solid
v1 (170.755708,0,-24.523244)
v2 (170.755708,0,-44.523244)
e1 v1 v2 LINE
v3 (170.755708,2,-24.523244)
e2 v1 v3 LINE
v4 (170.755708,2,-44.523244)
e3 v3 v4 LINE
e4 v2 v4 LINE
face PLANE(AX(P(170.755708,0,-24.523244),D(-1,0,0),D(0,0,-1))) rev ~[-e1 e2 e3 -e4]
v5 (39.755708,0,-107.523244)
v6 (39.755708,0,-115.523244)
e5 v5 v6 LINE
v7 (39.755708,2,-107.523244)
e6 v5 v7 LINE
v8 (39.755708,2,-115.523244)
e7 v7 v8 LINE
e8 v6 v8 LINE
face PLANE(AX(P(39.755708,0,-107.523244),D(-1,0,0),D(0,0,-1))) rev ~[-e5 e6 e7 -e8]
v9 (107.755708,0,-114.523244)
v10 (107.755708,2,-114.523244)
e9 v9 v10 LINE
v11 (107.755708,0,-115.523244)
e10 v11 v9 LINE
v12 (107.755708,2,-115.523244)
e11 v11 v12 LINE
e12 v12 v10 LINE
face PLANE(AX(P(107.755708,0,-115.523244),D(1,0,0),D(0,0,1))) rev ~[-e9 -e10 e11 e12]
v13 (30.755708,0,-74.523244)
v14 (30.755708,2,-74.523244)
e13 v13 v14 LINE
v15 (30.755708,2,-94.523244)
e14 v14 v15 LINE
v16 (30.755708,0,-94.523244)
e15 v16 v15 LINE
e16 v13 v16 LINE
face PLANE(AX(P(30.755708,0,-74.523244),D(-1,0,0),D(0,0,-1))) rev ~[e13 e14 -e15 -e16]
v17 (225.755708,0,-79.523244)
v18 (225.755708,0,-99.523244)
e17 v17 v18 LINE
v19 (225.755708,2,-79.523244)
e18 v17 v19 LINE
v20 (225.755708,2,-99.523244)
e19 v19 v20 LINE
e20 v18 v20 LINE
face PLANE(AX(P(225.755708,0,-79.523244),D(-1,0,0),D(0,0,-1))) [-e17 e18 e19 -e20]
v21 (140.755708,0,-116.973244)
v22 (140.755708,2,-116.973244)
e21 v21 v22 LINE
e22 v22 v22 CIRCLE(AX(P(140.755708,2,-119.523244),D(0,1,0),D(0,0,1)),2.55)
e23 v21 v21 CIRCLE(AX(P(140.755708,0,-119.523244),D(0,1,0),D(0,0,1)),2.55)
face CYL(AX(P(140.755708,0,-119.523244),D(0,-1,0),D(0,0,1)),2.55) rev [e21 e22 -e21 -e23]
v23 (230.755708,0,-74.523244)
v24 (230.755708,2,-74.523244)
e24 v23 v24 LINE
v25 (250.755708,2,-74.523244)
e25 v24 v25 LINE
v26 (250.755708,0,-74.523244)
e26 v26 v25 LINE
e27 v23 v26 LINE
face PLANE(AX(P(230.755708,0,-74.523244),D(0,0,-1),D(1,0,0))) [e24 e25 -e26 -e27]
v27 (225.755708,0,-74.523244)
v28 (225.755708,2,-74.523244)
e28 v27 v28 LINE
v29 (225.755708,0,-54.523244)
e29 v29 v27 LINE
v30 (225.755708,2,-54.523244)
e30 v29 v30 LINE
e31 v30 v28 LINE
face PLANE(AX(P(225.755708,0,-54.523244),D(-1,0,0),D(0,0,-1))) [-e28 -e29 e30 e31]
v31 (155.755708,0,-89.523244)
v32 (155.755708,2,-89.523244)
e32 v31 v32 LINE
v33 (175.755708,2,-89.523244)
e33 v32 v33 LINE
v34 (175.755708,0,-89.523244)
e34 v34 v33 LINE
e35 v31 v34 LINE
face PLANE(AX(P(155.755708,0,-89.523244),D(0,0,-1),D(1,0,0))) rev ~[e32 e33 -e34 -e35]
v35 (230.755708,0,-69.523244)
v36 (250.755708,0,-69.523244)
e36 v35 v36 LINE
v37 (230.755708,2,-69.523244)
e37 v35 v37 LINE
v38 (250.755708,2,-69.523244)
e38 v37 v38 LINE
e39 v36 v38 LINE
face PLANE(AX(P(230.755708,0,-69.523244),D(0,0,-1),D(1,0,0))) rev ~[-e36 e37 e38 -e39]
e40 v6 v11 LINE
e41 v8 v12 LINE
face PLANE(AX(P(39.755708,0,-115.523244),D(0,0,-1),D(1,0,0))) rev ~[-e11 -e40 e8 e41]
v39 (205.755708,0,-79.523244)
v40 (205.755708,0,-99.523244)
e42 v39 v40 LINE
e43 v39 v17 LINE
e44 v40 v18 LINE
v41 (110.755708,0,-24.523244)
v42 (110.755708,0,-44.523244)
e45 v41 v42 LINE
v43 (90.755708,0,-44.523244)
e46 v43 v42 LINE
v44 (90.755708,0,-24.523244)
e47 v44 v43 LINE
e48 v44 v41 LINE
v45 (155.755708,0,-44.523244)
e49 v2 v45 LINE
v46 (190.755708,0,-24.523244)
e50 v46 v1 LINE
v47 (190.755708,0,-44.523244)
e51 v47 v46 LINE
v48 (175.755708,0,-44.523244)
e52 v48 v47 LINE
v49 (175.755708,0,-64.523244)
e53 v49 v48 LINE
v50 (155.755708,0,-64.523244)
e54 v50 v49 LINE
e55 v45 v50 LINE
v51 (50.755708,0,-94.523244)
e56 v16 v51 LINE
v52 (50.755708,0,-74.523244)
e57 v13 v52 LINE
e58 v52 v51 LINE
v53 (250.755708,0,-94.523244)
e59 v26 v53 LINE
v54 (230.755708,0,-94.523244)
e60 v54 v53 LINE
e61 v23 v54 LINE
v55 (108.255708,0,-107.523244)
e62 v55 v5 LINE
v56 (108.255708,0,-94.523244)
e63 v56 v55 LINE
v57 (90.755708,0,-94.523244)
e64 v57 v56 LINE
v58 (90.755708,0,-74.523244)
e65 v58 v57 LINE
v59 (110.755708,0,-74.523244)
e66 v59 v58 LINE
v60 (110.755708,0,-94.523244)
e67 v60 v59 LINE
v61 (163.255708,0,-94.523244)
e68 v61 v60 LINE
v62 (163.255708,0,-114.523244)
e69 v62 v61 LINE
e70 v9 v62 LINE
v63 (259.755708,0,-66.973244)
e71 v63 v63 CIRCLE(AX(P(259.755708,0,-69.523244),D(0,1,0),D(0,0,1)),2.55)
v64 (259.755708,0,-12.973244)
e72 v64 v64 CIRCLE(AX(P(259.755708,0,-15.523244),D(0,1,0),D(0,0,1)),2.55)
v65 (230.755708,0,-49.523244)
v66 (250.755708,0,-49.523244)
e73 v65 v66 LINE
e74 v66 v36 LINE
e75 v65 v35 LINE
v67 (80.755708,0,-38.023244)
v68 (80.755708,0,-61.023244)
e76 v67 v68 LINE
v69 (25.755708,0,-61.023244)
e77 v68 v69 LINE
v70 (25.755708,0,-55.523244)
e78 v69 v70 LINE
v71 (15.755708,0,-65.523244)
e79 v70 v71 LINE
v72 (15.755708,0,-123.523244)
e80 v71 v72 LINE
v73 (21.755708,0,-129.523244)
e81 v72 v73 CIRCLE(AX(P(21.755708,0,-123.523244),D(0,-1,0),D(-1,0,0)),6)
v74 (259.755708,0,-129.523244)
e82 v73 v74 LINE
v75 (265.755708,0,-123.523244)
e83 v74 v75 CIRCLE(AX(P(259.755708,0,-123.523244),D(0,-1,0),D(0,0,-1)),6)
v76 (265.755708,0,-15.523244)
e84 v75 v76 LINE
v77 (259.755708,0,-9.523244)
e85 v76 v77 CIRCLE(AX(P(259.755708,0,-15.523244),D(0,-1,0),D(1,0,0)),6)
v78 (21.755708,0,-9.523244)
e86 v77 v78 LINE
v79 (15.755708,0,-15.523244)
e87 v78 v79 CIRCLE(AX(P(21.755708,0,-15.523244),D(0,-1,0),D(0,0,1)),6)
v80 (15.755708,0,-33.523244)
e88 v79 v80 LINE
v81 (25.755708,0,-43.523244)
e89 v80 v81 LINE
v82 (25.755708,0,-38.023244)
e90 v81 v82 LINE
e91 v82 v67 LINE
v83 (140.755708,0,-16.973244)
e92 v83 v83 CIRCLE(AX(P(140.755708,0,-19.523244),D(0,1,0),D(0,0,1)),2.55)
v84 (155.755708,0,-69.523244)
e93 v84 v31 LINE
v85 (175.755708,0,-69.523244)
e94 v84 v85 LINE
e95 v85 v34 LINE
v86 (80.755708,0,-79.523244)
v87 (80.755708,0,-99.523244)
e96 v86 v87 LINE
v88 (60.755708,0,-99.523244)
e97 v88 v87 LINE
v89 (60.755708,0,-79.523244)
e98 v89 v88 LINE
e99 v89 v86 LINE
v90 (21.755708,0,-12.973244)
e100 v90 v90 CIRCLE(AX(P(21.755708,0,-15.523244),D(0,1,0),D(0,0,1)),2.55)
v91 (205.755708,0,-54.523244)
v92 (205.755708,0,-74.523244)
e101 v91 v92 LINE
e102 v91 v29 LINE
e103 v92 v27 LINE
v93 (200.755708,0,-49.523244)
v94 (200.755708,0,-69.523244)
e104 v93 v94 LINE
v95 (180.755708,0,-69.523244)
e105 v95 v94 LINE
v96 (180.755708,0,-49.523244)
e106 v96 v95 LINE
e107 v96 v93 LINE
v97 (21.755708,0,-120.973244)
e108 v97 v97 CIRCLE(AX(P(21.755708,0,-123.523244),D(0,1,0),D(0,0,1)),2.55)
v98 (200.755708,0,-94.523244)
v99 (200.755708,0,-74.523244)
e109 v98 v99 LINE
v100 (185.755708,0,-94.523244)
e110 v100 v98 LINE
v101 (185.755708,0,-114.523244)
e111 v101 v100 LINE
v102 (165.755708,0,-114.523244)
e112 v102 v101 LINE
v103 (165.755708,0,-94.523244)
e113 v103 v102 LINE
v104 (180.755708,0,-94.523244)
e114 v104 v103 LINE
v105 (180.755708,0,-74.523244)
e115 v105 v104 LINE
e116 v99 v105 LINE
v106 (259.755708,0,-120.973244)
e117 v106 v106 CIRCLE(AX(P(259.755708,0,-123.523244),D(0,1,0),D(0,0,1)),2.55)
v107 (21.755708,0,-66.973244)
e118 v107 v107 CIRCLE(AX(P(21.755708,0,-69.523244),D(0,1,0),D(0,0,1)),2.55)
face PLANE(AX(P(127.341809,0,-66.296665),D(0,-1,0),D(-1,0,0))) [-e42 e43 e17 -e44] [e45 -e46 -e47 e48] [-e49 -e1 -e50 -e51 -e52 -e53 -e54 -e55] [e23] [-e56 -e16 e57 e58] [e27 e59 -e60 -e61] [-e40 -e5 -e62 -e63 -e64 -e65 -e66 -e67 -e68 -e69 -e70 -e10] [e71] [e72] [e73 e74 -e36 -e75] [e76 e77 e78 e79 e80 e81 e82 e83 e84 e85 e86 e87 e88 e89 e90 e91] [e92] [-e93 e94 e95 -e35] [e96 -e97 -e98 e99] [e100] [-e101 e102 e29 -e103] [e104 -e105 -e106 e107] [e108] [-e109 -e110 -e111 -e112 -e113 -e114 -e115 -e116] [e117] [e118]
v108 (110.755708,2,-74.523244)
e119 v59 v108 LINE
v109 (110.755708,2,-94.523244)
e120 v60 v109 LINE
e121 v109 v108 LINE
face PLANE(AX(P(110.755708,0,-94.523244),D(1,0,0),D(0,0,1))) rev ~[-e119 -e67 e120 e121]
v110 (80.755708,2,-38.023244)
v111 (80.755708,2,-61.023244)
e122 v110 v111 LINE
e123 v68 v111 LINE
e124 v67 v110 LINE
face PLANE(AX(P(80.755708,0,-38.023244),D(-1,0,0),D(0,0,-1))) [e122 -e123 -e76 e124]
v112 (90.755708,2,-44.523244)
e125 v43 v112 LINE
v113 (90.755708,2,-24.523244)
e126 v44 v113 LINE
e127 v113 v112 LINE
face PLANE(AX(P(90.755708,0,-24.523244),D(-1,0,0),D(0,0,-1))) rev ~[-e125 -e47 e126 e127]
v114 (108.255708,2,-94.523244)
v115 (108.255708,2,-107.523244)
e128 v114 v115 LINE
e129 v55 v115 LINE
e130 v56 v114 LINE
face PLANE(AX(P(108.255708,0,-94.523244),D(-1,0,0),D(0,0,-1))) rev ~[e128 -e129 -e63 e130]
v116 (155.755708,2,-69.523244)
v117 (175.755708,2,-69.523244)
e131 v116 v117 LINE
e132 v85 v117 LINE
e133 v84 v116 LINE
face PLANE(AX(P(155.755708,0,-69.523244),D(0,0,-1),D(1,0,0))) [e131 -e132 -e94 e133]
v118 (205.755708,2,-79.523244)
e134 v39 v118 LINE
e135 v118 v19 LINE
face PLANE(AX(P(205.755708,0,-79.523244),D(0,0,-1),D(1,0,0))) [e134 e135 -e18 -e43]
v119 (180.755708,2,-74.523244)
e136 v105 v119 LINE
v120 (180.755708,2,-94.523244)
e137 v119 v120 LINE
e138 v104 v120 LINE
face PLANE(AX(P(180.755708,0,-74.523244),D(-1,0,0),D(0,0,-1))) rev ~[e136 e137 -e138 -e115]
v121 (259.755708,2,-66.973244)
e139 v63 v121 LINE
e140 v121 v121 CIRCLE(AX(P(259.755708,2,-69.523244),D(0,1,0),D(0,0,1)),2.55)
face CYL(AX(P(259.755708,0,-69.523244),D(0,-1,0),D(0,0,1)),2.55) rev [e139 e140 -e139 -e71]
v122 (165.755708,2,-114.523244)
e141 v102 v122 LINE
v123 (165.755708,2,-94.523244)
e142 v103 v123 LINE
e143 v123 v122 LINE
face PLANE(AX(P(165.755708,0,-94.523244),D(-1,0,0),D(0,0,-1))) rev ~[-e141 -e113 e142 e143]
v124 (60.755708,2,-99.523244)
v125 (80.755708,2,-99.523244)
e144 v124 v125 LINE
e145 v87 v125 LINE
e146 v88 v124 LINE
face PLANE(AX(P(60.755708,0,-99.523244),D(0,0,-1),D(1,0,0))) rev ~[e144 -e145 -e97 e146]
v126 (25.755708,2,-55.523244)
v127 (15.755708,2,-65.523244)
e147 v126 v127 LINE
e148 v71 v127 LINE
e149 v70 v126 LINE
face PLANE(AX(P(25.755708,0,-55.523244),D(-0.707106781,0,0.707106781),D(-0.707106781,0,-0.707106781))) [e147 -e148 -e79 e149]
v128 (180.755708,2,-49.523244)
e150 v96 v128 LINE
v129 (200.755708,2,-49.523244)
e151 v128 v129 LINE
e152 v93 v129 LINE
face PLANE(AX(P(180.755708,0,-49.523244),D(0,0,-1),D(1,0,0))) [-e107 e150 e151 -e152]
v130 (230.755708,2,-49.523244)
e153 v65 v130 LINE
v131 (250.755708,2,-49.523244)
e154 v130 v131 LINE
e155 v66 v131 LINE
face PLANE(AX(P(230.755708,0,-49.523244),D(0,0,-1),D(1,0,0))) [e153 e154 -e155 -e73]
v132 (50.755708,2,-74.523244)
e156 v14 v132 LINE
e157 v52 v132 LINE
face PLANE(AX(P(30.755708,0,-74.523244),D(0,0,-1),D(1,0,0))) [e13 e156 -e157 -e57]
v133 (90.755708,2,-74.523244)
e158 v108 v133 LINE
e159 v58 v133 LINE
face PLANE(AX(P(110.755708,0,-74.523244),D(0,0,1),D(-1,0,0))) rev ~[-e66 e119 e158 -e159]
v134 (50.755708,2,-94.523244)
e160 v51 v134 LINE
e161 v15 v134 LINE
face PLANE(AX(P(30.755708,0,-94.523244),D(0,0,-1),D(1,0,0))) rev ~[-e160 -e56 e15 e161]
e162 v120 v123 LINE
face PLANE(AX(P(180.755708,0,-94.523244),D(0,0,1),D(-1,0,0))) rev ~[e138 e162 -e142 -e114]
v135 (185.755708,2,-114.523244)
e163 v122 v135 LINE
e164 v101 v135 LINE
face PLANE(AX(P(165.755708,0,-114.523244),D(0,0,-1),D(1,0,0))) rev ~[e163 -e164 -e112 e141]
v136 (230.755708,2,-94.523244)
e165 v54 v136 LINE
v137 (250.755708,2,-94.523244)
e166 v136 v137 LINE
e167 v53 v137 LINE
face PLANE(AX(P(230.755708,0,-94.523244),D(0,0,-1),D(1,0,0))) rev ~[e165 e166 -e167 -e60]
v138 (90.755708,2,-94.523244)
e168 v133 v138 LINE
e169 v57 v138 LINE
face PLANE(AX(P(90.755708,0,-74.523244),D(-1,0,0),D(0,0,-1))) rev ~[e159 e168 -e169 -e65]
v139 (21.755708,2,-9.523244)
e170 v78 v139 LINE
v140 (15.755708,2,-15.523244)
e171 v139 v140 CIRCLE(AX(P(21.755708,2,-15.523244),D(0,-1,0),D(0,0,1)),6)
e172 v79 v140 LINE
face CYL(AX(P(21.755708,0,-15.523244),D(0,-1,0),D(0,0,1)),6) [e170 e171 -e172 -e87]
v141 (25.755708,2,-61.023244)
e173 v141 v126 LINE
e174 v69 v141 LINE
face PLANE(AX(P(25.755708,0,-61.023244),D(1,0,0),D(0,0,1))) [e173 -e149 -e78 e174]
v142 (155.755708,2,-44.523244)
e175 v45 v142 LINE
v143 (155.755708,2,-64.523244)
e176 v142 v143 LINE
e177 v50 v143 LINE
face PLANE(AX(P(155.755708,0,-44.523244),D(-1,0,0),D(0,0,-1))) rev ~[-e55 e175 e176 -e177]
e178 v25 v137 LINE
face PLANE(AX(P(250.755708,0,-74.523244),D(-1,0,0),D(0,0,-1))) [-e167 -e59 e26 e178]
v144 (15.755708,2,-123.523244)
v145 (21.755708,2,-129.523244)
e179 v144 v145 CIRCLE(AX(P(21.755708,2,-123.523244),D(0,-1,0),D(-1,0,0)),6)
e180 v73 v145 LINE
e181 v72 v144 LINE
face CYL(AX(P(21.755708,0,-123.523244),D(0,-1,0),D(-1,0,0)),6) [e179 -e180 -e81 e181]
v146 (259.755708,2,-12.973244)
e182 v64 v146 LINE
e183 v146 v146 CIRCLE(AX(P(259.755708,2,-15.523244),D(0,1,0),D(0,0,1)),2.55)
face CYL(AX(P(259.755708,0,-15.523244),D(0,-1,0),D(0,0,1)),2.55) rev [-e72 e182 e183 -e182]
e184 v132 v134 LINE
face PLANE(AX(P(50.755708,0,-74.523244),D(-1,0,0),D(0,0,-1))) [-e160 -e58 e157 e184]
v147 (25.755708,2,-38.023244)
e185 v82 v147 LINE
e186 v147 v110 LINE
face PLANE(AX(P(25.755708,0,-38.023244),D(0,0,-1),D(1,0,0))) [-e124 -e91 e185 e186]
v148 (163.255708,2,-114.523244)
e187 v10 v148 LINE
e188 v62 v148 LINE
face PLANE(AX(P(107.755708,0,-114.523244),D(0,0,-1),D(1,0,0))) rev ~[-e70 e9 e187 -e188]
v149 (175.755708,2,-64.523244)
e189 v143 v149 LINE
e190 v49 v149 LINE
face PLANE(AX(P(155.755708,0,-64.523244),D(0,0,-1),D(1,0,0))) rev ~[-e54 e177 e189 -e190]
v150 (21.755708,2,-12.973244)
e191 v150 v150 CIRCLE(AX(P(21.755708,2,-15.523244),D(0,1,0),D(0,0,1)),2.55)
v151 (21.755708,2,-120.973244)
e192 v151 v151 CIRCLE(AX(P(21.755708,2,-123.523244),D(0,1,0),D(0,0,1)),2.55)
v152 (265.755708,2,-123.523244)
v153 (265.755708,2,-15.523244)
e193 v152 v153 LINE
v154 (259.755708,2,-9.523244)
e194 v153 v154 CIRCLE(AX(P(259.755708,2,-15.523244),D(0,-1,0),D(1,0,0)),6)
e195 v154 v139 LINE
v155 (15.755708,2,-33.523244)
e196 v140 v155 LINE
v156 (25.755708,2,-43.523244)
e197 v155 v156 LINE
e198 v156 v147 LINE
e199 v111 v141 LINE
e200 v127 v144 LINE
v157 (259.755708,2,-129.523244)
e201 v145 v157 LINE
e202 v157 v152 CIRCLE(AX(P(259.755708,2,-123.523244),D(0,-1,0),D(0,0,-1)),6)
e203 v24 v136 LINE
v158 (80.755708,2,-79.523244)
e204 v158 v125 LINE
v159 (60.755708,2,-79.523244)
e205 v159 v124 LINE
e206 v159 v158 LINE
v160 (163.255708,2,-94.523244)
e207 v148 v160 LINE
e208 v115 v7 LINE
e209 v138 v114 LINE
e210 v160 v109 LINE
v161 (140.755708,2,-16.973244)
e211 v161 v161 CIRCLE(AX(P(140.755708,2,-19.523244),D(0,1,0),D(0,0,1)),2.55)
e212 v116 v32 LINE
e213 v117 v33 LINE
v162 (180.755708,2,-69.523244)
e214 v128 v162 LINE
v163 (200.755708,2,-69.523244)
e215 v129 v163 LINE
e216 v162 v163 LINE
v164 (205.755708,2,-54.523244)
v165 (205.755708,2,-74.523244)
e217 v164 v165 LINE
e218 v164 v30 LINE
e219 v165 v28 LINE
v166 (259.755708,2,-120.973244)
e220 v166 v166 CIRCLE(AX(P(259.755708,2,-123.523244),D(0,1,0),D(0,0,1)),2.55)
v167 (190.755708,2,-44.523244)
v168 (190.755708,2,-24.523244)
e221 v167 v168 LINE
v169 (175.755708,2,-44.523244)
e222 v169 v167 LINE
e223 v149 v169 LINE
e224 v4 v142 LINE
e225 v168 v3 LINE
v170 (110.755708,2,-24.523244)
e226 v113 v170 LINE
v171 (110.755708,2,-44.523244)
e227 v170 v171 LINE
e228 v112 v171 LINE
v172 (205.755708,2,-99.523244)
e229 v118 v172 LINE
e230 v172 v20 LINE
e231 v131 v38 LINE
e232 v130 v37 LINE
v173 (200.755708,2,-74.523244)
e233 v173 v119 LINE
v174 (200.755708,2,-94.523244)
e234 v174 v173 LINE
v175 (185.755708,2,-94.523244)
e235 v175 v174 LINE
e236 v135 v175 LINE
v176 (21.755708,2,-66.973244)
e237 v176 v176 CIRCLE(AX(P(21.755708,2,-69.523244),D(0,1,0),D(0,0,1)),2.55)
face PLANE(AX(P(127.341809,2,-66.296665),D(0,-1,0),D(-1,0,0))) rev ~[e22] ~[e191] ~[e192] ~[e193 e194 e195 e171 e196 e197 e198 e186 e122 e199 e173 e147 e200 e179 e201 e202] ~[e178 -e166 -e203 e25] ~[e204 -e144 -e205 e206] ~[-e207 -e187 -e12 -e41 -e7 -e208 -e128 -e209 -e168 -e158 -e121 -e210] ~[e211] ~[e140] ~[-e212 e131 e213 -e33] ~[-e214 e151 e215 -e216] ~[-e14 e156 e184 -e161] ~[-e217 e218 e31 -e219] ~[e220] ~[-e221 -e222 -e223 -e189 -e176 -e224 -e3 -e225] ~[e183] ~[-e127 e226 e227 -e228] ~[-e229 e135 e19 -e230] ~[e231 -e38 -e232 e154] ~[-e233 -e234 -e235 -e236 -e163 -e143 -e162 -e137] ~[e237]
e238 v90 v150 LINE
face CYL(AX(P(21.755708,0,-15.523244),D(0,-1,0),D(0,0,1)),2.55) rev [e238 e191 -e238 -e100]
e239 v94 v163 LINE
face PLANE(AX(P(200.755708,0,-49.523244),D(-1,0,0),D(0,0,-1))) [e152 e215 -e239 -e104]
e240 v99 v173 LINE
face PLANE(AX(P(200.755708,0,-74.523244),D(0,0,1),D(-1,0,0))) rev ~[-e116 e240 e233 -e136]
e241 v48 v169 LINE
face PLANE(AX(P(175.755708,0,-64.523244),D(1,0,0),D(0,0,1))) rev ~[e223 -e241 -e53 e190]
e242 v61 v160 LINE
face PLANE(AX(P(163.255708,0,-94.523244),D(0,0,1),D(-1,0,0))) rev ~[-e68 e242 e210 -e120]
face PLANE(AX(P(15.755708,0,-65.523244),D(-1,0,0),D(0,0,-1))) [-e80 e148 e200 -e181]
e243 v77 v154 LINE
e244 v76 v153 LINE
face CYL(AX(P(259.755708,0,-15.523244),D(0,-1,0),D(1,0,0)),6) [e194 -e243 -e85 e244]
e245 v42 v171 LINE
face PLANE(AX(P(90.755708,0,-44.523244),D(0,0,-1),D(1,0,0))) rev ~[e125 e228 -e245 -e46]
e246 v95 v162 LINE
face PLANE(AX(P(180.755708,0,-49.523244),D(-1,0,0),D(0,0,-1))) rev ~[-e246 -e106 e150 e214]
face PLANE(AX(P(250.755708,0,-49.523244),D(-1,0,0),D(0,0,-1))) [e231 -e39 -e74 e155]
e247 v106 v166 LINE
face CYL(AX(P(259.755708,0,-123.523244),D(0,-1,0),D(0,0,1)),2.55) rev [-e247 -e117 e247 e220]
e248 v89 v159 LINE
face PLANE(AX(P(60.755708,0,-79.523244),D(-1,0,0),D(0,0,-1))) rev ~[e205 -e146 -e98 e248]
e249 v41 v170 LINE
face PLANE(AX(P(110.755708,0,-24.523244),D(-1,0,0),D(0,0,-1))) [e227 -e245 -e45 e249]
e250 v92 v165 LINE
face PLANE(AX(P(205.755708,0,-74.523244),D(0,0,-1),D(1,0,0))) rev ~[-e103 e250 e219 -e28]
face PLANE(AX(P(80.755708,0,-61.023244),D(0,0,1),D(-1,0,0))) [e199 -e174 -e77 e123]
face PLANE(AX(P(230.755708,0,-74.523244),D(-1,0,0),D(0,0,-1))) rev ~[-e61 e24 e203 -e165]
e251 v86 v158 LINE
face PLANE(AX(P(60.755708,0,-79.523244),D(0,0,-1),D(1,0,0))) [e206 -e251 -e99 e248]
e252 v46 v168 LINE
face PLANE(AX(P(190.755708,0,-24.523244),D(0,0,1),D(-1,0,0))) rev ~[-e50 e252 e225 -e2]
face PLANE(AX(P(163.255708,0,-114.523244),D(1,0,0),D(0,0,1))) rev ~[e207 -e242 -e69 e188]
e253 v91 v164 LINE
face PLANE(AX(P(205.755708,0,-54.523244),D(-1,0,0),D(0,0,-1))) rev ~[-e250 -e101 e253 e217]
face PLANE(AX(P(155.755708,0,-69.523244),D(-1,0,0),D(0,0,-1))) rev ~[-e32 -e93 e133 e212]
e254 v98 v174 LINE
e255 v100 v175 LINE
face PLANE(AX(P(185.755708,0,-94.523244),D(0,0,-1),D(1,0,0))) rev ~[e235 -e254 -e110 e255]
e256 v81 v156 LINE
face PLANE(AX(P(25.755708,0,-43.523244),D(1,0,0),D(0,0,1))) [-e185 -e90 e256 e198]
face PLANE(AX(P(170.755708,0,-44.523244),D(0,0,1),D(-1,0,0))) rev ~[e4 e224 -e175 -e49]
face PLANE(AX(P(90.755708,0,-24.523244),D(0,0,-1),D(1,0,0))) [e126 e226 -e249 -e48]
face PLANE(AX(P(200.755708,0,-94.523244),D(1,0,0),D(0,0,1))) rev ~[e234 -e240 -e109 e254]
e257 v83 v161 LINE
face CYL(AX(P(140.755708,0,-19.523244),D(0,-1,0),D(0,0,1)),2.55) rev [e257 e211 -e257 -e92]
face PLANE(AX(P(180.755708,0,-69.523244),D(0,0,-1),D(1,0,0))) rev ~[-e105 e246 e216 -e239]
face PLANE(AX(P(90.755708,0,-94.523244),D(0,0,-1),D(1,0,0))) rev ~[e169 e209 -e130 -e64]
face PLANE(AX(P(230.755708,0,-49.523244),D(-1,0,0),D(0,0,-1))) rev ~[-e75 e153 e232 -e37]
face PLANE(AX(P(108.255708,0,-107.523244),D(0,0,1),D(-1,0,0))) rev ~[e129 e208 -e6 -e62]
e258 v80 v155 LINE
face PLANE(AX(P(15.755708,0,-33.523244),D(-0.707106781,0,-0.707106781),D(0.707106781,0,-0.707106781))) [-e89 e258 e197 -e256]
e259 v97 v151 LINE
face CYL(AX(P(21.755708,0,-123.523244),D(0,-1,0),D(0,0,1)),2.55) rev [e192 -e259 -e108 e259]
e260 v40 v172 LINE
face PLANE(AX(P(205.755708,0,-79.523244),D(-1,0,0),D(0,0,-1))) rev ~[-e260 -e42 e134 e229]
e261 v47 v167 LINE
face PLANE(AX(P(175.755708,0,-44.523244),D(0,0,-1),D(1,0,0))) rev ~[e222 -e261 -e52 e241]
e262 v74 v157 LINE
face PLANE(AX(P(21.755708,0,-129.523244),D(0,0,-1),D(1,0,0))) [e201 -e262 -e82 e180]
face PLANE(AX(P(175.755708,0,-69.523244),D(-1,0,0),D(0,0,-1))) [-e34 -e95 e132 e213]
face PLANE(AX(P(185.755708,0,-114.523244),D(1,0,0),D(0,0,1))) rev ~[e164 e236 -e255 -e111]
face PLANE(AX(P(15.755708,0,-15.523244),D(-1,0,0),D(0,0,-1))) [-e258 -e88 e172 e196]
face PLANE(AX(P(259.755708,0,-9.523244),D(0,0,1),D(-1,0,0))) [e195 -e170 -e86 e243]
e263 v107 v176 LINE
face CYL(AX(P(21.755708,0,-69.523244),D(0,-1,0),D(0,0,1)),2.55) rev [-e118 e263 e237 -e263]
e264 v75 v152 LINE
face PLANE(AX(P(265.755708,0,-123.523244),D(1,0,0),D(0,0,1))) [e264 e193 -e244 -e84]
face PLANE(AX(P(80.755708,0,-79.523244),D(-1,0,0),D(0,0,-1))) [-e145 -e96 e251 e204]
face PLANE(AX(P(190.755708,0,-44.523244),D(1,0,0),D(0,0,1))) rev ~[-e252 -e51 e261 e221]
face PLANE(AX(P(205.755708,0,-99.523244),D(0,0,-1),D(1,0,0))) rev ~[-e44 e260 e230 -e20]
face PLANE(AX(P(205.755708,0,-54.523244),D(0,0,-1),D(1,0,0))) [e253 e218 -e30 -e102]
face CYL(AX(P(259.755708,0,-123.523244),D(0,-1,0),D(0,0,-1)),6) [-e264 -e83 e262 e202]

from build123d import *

# Parameters (mm, degrees)
SKETCH_1_R      = 2.55
SKETCH_1_W      = 20
SKETCH_1_H      = 20
EXTRUDE_1_DEPTH = 2


with BuildPart() as part:
    # 草图1 → 凸台-拉伸1 (new body)
    with BuildSketch(Plane(origin=(0, 0, 0), x_dir=(1, 0, 0), z_dir=(0, 1, 0))):
        with BuildLine():
            Line((15.755708479, 65.523244106), (15.755708479, 123.523244106))
            ThreePointArc((15.755708479, 123.523244106), (17.513067792, 127.765884793), (21.755708479, 129.523244106))
            Line((21.755708479, 129.523244106), (259.755708479, 129.523244106))
            ThreePointArc((259.755708479, 129.523244106), (263.998349166, 127.765884793), (265.755708479, 123.523244106))
            Line((265.755708479, 123.523244106), (265.755708479, 15.523244106))
            ThreePointArc((265.755708479, 15.523244106), (263.998349166, 11.280603419), (259.755708479, 9.523244106))
            Line((259.755708479, 9.523244106), (21.755708479, 9.523244106))
            ThreePointArc((21.755708479, 9.523244106), (17.513067792, 11.280603419), (15.755708479, 15.523244106))
            Line((15.755708479, 15.523244106), (15.755708479, 33.523244106))
            Line((15.755708479, 33.523244106), (25.755708479, 43.523244106))
            Line((25.755708479, 43.523244106), (25.755708479, 38.023244106))
            Line((25.755708479, 38.023244106), (80.755708479, 38.023244106))
            Line((80.755708479, 38.023244106), (80.755708479, 61.023244106))
            Line((80.755708479, 61.023244106), (25.755708479, 61.023244106))
            Line((25.755708479, 61.023244106), (25.755708479, 55.523244106))
            Line((25.755708479, 55.523244106), (15.755708479, 65.523244106))
        make_face()
        with Locations(Location((21.755708479, 123.523244106, 0), (0, 0, 270))):
            Circle(SKETCH_1_R, mode=Mode.SUBTRACT)
        with Locations(Location((259.755708479, 123.523244106, 0), (0, 0, 270))):
            Circle(SKETCH_1_R, mode=Mode.SUBTRACT)
        with Locations(Location((140.755708479, 119.523244106, 0), (0, 0, 270))):
            Circle(SKETCH_1_R, mode=Mode.SUBTRACT)
        with Locations(Location((21.755708479, 15.523244106, 0), (0, 0, 270))):
            Circle(SKETCH_1_R, mode=Mode.SUBTRACT)
        with Locations(Location((259.755708479, 15.523244106, 0), (0, 0, 270))):
            Circle(SKETCH_1_R, mode=Mode.SUBTRACT)
        with Locations(Location((140.755708479, 19.523244106, 0), (0, 0, 270))):
            Circle(SKETCH_1_R, mode=Mode.SUBTRACT)
        with Locations(Location((259.755708479, 69.523244106, 0), (0, 0, 270))):
            Circle(SKETCH_1_R, mode=Mode.SUBTRACT)
        with Locations(Location((21.755708479, 69.523244106, 0), (0, 0, 270))):
            Circle(SKETCH_1_R, mode=Mode.SUBTRACT)
        Polygon((107.755708479, 107.523244106), (39.755708479, 107.523244106), (39.755708479, 115.523244106), (107.755708479, 115.523244106), (107.755708479, 114.523244106), (108.255708479, 114.523244106), (163.255708479, 114.523244106), (163.255708479, 94.523244106), (110.755708479, 94.523244106), (110.755708479, 74.523244106), (90.755708479, 74.523244106), (90.755708479, 94.523244106), (108.255708479, 94.523244106), (108.255708479, 107.523244106), align=None, mode=Mode.SUBTRACT)
        with Locations((70.755708479, 89.523244106)):
            Rectangle(SKETCH_1_W, SKETCH_1_H, mode=Mode.SUBTRACT)
        with Locations((100.755708479, 34.523244106)):
            Rectangle(SKETCH_1_W, SKETCH_1_H, mode=Mode.SUBTRACT)
        with Locations((40.755708479, 84.523244106)):
            Rectangle(SKETCH_1_W, SKETCH_1_H, mode=Mode.SUBTRACT)
        Polygon((180.755708479, 94.523244106), (165.755708479, 94.523244106), (165.755708479, 114.523244106), (185.755708479, 114.523244106), (185.755708479, 94.523244106), (200.755708479, 94.523244106), (200.755708479, 74.523244106), (180.755708479, 74.523244106), align=None, mode=Mode.SUBTRACT)
        with Locations((165.755708479, 79.523244106)):
            Rectangle(SKETCH_1_W, SKETCH_1_H, mode=Mode.SUBTRACT)
        with Locations((215.755708479, 89.523244106)):
            Rectangle(SKETCH_1_W, SKETCH_1_H, mode=Mode.SUBTRACT)
        with Locations((240.755708479, 84.523244106)):
            Rectangle(SKETCH_1_W, SKETCH_1_H, mode=Mode.SUBTRACT)
        Polygon((170.755708479, 44.523244106), (155.755708479, 44.523244106), (155.755708479, 64.523244106), (175.755708479, 64.523244106), (175.755708479, 44.523244106), (190.755708479, 44.523244106), (190.755708479, 24.523244106), (170.755708479, 24.523244106), align=None, mode=Mode.SUBTRACT)
        with Locations((190.755708479, 59.523244106)):
            Rectangle(SKETCH_1_W, SKETCH_1_H, mode=Mode.SUBTRACT)
        with Locations((215.755708479, 64.523244106)):
            Rectangle(SKETCH_1_W, SKETCH_1_H, mode=Mode.SUBTRACT)
        with Locations((240.755708479, 59.523244106)):
            Rectangle(SKETCH_1_W, SKETCH_1_H, mode=Mode.SUBTRACT)
    extrude(amount=EXTRUDE_1_DEPTH)


solid = part.part
